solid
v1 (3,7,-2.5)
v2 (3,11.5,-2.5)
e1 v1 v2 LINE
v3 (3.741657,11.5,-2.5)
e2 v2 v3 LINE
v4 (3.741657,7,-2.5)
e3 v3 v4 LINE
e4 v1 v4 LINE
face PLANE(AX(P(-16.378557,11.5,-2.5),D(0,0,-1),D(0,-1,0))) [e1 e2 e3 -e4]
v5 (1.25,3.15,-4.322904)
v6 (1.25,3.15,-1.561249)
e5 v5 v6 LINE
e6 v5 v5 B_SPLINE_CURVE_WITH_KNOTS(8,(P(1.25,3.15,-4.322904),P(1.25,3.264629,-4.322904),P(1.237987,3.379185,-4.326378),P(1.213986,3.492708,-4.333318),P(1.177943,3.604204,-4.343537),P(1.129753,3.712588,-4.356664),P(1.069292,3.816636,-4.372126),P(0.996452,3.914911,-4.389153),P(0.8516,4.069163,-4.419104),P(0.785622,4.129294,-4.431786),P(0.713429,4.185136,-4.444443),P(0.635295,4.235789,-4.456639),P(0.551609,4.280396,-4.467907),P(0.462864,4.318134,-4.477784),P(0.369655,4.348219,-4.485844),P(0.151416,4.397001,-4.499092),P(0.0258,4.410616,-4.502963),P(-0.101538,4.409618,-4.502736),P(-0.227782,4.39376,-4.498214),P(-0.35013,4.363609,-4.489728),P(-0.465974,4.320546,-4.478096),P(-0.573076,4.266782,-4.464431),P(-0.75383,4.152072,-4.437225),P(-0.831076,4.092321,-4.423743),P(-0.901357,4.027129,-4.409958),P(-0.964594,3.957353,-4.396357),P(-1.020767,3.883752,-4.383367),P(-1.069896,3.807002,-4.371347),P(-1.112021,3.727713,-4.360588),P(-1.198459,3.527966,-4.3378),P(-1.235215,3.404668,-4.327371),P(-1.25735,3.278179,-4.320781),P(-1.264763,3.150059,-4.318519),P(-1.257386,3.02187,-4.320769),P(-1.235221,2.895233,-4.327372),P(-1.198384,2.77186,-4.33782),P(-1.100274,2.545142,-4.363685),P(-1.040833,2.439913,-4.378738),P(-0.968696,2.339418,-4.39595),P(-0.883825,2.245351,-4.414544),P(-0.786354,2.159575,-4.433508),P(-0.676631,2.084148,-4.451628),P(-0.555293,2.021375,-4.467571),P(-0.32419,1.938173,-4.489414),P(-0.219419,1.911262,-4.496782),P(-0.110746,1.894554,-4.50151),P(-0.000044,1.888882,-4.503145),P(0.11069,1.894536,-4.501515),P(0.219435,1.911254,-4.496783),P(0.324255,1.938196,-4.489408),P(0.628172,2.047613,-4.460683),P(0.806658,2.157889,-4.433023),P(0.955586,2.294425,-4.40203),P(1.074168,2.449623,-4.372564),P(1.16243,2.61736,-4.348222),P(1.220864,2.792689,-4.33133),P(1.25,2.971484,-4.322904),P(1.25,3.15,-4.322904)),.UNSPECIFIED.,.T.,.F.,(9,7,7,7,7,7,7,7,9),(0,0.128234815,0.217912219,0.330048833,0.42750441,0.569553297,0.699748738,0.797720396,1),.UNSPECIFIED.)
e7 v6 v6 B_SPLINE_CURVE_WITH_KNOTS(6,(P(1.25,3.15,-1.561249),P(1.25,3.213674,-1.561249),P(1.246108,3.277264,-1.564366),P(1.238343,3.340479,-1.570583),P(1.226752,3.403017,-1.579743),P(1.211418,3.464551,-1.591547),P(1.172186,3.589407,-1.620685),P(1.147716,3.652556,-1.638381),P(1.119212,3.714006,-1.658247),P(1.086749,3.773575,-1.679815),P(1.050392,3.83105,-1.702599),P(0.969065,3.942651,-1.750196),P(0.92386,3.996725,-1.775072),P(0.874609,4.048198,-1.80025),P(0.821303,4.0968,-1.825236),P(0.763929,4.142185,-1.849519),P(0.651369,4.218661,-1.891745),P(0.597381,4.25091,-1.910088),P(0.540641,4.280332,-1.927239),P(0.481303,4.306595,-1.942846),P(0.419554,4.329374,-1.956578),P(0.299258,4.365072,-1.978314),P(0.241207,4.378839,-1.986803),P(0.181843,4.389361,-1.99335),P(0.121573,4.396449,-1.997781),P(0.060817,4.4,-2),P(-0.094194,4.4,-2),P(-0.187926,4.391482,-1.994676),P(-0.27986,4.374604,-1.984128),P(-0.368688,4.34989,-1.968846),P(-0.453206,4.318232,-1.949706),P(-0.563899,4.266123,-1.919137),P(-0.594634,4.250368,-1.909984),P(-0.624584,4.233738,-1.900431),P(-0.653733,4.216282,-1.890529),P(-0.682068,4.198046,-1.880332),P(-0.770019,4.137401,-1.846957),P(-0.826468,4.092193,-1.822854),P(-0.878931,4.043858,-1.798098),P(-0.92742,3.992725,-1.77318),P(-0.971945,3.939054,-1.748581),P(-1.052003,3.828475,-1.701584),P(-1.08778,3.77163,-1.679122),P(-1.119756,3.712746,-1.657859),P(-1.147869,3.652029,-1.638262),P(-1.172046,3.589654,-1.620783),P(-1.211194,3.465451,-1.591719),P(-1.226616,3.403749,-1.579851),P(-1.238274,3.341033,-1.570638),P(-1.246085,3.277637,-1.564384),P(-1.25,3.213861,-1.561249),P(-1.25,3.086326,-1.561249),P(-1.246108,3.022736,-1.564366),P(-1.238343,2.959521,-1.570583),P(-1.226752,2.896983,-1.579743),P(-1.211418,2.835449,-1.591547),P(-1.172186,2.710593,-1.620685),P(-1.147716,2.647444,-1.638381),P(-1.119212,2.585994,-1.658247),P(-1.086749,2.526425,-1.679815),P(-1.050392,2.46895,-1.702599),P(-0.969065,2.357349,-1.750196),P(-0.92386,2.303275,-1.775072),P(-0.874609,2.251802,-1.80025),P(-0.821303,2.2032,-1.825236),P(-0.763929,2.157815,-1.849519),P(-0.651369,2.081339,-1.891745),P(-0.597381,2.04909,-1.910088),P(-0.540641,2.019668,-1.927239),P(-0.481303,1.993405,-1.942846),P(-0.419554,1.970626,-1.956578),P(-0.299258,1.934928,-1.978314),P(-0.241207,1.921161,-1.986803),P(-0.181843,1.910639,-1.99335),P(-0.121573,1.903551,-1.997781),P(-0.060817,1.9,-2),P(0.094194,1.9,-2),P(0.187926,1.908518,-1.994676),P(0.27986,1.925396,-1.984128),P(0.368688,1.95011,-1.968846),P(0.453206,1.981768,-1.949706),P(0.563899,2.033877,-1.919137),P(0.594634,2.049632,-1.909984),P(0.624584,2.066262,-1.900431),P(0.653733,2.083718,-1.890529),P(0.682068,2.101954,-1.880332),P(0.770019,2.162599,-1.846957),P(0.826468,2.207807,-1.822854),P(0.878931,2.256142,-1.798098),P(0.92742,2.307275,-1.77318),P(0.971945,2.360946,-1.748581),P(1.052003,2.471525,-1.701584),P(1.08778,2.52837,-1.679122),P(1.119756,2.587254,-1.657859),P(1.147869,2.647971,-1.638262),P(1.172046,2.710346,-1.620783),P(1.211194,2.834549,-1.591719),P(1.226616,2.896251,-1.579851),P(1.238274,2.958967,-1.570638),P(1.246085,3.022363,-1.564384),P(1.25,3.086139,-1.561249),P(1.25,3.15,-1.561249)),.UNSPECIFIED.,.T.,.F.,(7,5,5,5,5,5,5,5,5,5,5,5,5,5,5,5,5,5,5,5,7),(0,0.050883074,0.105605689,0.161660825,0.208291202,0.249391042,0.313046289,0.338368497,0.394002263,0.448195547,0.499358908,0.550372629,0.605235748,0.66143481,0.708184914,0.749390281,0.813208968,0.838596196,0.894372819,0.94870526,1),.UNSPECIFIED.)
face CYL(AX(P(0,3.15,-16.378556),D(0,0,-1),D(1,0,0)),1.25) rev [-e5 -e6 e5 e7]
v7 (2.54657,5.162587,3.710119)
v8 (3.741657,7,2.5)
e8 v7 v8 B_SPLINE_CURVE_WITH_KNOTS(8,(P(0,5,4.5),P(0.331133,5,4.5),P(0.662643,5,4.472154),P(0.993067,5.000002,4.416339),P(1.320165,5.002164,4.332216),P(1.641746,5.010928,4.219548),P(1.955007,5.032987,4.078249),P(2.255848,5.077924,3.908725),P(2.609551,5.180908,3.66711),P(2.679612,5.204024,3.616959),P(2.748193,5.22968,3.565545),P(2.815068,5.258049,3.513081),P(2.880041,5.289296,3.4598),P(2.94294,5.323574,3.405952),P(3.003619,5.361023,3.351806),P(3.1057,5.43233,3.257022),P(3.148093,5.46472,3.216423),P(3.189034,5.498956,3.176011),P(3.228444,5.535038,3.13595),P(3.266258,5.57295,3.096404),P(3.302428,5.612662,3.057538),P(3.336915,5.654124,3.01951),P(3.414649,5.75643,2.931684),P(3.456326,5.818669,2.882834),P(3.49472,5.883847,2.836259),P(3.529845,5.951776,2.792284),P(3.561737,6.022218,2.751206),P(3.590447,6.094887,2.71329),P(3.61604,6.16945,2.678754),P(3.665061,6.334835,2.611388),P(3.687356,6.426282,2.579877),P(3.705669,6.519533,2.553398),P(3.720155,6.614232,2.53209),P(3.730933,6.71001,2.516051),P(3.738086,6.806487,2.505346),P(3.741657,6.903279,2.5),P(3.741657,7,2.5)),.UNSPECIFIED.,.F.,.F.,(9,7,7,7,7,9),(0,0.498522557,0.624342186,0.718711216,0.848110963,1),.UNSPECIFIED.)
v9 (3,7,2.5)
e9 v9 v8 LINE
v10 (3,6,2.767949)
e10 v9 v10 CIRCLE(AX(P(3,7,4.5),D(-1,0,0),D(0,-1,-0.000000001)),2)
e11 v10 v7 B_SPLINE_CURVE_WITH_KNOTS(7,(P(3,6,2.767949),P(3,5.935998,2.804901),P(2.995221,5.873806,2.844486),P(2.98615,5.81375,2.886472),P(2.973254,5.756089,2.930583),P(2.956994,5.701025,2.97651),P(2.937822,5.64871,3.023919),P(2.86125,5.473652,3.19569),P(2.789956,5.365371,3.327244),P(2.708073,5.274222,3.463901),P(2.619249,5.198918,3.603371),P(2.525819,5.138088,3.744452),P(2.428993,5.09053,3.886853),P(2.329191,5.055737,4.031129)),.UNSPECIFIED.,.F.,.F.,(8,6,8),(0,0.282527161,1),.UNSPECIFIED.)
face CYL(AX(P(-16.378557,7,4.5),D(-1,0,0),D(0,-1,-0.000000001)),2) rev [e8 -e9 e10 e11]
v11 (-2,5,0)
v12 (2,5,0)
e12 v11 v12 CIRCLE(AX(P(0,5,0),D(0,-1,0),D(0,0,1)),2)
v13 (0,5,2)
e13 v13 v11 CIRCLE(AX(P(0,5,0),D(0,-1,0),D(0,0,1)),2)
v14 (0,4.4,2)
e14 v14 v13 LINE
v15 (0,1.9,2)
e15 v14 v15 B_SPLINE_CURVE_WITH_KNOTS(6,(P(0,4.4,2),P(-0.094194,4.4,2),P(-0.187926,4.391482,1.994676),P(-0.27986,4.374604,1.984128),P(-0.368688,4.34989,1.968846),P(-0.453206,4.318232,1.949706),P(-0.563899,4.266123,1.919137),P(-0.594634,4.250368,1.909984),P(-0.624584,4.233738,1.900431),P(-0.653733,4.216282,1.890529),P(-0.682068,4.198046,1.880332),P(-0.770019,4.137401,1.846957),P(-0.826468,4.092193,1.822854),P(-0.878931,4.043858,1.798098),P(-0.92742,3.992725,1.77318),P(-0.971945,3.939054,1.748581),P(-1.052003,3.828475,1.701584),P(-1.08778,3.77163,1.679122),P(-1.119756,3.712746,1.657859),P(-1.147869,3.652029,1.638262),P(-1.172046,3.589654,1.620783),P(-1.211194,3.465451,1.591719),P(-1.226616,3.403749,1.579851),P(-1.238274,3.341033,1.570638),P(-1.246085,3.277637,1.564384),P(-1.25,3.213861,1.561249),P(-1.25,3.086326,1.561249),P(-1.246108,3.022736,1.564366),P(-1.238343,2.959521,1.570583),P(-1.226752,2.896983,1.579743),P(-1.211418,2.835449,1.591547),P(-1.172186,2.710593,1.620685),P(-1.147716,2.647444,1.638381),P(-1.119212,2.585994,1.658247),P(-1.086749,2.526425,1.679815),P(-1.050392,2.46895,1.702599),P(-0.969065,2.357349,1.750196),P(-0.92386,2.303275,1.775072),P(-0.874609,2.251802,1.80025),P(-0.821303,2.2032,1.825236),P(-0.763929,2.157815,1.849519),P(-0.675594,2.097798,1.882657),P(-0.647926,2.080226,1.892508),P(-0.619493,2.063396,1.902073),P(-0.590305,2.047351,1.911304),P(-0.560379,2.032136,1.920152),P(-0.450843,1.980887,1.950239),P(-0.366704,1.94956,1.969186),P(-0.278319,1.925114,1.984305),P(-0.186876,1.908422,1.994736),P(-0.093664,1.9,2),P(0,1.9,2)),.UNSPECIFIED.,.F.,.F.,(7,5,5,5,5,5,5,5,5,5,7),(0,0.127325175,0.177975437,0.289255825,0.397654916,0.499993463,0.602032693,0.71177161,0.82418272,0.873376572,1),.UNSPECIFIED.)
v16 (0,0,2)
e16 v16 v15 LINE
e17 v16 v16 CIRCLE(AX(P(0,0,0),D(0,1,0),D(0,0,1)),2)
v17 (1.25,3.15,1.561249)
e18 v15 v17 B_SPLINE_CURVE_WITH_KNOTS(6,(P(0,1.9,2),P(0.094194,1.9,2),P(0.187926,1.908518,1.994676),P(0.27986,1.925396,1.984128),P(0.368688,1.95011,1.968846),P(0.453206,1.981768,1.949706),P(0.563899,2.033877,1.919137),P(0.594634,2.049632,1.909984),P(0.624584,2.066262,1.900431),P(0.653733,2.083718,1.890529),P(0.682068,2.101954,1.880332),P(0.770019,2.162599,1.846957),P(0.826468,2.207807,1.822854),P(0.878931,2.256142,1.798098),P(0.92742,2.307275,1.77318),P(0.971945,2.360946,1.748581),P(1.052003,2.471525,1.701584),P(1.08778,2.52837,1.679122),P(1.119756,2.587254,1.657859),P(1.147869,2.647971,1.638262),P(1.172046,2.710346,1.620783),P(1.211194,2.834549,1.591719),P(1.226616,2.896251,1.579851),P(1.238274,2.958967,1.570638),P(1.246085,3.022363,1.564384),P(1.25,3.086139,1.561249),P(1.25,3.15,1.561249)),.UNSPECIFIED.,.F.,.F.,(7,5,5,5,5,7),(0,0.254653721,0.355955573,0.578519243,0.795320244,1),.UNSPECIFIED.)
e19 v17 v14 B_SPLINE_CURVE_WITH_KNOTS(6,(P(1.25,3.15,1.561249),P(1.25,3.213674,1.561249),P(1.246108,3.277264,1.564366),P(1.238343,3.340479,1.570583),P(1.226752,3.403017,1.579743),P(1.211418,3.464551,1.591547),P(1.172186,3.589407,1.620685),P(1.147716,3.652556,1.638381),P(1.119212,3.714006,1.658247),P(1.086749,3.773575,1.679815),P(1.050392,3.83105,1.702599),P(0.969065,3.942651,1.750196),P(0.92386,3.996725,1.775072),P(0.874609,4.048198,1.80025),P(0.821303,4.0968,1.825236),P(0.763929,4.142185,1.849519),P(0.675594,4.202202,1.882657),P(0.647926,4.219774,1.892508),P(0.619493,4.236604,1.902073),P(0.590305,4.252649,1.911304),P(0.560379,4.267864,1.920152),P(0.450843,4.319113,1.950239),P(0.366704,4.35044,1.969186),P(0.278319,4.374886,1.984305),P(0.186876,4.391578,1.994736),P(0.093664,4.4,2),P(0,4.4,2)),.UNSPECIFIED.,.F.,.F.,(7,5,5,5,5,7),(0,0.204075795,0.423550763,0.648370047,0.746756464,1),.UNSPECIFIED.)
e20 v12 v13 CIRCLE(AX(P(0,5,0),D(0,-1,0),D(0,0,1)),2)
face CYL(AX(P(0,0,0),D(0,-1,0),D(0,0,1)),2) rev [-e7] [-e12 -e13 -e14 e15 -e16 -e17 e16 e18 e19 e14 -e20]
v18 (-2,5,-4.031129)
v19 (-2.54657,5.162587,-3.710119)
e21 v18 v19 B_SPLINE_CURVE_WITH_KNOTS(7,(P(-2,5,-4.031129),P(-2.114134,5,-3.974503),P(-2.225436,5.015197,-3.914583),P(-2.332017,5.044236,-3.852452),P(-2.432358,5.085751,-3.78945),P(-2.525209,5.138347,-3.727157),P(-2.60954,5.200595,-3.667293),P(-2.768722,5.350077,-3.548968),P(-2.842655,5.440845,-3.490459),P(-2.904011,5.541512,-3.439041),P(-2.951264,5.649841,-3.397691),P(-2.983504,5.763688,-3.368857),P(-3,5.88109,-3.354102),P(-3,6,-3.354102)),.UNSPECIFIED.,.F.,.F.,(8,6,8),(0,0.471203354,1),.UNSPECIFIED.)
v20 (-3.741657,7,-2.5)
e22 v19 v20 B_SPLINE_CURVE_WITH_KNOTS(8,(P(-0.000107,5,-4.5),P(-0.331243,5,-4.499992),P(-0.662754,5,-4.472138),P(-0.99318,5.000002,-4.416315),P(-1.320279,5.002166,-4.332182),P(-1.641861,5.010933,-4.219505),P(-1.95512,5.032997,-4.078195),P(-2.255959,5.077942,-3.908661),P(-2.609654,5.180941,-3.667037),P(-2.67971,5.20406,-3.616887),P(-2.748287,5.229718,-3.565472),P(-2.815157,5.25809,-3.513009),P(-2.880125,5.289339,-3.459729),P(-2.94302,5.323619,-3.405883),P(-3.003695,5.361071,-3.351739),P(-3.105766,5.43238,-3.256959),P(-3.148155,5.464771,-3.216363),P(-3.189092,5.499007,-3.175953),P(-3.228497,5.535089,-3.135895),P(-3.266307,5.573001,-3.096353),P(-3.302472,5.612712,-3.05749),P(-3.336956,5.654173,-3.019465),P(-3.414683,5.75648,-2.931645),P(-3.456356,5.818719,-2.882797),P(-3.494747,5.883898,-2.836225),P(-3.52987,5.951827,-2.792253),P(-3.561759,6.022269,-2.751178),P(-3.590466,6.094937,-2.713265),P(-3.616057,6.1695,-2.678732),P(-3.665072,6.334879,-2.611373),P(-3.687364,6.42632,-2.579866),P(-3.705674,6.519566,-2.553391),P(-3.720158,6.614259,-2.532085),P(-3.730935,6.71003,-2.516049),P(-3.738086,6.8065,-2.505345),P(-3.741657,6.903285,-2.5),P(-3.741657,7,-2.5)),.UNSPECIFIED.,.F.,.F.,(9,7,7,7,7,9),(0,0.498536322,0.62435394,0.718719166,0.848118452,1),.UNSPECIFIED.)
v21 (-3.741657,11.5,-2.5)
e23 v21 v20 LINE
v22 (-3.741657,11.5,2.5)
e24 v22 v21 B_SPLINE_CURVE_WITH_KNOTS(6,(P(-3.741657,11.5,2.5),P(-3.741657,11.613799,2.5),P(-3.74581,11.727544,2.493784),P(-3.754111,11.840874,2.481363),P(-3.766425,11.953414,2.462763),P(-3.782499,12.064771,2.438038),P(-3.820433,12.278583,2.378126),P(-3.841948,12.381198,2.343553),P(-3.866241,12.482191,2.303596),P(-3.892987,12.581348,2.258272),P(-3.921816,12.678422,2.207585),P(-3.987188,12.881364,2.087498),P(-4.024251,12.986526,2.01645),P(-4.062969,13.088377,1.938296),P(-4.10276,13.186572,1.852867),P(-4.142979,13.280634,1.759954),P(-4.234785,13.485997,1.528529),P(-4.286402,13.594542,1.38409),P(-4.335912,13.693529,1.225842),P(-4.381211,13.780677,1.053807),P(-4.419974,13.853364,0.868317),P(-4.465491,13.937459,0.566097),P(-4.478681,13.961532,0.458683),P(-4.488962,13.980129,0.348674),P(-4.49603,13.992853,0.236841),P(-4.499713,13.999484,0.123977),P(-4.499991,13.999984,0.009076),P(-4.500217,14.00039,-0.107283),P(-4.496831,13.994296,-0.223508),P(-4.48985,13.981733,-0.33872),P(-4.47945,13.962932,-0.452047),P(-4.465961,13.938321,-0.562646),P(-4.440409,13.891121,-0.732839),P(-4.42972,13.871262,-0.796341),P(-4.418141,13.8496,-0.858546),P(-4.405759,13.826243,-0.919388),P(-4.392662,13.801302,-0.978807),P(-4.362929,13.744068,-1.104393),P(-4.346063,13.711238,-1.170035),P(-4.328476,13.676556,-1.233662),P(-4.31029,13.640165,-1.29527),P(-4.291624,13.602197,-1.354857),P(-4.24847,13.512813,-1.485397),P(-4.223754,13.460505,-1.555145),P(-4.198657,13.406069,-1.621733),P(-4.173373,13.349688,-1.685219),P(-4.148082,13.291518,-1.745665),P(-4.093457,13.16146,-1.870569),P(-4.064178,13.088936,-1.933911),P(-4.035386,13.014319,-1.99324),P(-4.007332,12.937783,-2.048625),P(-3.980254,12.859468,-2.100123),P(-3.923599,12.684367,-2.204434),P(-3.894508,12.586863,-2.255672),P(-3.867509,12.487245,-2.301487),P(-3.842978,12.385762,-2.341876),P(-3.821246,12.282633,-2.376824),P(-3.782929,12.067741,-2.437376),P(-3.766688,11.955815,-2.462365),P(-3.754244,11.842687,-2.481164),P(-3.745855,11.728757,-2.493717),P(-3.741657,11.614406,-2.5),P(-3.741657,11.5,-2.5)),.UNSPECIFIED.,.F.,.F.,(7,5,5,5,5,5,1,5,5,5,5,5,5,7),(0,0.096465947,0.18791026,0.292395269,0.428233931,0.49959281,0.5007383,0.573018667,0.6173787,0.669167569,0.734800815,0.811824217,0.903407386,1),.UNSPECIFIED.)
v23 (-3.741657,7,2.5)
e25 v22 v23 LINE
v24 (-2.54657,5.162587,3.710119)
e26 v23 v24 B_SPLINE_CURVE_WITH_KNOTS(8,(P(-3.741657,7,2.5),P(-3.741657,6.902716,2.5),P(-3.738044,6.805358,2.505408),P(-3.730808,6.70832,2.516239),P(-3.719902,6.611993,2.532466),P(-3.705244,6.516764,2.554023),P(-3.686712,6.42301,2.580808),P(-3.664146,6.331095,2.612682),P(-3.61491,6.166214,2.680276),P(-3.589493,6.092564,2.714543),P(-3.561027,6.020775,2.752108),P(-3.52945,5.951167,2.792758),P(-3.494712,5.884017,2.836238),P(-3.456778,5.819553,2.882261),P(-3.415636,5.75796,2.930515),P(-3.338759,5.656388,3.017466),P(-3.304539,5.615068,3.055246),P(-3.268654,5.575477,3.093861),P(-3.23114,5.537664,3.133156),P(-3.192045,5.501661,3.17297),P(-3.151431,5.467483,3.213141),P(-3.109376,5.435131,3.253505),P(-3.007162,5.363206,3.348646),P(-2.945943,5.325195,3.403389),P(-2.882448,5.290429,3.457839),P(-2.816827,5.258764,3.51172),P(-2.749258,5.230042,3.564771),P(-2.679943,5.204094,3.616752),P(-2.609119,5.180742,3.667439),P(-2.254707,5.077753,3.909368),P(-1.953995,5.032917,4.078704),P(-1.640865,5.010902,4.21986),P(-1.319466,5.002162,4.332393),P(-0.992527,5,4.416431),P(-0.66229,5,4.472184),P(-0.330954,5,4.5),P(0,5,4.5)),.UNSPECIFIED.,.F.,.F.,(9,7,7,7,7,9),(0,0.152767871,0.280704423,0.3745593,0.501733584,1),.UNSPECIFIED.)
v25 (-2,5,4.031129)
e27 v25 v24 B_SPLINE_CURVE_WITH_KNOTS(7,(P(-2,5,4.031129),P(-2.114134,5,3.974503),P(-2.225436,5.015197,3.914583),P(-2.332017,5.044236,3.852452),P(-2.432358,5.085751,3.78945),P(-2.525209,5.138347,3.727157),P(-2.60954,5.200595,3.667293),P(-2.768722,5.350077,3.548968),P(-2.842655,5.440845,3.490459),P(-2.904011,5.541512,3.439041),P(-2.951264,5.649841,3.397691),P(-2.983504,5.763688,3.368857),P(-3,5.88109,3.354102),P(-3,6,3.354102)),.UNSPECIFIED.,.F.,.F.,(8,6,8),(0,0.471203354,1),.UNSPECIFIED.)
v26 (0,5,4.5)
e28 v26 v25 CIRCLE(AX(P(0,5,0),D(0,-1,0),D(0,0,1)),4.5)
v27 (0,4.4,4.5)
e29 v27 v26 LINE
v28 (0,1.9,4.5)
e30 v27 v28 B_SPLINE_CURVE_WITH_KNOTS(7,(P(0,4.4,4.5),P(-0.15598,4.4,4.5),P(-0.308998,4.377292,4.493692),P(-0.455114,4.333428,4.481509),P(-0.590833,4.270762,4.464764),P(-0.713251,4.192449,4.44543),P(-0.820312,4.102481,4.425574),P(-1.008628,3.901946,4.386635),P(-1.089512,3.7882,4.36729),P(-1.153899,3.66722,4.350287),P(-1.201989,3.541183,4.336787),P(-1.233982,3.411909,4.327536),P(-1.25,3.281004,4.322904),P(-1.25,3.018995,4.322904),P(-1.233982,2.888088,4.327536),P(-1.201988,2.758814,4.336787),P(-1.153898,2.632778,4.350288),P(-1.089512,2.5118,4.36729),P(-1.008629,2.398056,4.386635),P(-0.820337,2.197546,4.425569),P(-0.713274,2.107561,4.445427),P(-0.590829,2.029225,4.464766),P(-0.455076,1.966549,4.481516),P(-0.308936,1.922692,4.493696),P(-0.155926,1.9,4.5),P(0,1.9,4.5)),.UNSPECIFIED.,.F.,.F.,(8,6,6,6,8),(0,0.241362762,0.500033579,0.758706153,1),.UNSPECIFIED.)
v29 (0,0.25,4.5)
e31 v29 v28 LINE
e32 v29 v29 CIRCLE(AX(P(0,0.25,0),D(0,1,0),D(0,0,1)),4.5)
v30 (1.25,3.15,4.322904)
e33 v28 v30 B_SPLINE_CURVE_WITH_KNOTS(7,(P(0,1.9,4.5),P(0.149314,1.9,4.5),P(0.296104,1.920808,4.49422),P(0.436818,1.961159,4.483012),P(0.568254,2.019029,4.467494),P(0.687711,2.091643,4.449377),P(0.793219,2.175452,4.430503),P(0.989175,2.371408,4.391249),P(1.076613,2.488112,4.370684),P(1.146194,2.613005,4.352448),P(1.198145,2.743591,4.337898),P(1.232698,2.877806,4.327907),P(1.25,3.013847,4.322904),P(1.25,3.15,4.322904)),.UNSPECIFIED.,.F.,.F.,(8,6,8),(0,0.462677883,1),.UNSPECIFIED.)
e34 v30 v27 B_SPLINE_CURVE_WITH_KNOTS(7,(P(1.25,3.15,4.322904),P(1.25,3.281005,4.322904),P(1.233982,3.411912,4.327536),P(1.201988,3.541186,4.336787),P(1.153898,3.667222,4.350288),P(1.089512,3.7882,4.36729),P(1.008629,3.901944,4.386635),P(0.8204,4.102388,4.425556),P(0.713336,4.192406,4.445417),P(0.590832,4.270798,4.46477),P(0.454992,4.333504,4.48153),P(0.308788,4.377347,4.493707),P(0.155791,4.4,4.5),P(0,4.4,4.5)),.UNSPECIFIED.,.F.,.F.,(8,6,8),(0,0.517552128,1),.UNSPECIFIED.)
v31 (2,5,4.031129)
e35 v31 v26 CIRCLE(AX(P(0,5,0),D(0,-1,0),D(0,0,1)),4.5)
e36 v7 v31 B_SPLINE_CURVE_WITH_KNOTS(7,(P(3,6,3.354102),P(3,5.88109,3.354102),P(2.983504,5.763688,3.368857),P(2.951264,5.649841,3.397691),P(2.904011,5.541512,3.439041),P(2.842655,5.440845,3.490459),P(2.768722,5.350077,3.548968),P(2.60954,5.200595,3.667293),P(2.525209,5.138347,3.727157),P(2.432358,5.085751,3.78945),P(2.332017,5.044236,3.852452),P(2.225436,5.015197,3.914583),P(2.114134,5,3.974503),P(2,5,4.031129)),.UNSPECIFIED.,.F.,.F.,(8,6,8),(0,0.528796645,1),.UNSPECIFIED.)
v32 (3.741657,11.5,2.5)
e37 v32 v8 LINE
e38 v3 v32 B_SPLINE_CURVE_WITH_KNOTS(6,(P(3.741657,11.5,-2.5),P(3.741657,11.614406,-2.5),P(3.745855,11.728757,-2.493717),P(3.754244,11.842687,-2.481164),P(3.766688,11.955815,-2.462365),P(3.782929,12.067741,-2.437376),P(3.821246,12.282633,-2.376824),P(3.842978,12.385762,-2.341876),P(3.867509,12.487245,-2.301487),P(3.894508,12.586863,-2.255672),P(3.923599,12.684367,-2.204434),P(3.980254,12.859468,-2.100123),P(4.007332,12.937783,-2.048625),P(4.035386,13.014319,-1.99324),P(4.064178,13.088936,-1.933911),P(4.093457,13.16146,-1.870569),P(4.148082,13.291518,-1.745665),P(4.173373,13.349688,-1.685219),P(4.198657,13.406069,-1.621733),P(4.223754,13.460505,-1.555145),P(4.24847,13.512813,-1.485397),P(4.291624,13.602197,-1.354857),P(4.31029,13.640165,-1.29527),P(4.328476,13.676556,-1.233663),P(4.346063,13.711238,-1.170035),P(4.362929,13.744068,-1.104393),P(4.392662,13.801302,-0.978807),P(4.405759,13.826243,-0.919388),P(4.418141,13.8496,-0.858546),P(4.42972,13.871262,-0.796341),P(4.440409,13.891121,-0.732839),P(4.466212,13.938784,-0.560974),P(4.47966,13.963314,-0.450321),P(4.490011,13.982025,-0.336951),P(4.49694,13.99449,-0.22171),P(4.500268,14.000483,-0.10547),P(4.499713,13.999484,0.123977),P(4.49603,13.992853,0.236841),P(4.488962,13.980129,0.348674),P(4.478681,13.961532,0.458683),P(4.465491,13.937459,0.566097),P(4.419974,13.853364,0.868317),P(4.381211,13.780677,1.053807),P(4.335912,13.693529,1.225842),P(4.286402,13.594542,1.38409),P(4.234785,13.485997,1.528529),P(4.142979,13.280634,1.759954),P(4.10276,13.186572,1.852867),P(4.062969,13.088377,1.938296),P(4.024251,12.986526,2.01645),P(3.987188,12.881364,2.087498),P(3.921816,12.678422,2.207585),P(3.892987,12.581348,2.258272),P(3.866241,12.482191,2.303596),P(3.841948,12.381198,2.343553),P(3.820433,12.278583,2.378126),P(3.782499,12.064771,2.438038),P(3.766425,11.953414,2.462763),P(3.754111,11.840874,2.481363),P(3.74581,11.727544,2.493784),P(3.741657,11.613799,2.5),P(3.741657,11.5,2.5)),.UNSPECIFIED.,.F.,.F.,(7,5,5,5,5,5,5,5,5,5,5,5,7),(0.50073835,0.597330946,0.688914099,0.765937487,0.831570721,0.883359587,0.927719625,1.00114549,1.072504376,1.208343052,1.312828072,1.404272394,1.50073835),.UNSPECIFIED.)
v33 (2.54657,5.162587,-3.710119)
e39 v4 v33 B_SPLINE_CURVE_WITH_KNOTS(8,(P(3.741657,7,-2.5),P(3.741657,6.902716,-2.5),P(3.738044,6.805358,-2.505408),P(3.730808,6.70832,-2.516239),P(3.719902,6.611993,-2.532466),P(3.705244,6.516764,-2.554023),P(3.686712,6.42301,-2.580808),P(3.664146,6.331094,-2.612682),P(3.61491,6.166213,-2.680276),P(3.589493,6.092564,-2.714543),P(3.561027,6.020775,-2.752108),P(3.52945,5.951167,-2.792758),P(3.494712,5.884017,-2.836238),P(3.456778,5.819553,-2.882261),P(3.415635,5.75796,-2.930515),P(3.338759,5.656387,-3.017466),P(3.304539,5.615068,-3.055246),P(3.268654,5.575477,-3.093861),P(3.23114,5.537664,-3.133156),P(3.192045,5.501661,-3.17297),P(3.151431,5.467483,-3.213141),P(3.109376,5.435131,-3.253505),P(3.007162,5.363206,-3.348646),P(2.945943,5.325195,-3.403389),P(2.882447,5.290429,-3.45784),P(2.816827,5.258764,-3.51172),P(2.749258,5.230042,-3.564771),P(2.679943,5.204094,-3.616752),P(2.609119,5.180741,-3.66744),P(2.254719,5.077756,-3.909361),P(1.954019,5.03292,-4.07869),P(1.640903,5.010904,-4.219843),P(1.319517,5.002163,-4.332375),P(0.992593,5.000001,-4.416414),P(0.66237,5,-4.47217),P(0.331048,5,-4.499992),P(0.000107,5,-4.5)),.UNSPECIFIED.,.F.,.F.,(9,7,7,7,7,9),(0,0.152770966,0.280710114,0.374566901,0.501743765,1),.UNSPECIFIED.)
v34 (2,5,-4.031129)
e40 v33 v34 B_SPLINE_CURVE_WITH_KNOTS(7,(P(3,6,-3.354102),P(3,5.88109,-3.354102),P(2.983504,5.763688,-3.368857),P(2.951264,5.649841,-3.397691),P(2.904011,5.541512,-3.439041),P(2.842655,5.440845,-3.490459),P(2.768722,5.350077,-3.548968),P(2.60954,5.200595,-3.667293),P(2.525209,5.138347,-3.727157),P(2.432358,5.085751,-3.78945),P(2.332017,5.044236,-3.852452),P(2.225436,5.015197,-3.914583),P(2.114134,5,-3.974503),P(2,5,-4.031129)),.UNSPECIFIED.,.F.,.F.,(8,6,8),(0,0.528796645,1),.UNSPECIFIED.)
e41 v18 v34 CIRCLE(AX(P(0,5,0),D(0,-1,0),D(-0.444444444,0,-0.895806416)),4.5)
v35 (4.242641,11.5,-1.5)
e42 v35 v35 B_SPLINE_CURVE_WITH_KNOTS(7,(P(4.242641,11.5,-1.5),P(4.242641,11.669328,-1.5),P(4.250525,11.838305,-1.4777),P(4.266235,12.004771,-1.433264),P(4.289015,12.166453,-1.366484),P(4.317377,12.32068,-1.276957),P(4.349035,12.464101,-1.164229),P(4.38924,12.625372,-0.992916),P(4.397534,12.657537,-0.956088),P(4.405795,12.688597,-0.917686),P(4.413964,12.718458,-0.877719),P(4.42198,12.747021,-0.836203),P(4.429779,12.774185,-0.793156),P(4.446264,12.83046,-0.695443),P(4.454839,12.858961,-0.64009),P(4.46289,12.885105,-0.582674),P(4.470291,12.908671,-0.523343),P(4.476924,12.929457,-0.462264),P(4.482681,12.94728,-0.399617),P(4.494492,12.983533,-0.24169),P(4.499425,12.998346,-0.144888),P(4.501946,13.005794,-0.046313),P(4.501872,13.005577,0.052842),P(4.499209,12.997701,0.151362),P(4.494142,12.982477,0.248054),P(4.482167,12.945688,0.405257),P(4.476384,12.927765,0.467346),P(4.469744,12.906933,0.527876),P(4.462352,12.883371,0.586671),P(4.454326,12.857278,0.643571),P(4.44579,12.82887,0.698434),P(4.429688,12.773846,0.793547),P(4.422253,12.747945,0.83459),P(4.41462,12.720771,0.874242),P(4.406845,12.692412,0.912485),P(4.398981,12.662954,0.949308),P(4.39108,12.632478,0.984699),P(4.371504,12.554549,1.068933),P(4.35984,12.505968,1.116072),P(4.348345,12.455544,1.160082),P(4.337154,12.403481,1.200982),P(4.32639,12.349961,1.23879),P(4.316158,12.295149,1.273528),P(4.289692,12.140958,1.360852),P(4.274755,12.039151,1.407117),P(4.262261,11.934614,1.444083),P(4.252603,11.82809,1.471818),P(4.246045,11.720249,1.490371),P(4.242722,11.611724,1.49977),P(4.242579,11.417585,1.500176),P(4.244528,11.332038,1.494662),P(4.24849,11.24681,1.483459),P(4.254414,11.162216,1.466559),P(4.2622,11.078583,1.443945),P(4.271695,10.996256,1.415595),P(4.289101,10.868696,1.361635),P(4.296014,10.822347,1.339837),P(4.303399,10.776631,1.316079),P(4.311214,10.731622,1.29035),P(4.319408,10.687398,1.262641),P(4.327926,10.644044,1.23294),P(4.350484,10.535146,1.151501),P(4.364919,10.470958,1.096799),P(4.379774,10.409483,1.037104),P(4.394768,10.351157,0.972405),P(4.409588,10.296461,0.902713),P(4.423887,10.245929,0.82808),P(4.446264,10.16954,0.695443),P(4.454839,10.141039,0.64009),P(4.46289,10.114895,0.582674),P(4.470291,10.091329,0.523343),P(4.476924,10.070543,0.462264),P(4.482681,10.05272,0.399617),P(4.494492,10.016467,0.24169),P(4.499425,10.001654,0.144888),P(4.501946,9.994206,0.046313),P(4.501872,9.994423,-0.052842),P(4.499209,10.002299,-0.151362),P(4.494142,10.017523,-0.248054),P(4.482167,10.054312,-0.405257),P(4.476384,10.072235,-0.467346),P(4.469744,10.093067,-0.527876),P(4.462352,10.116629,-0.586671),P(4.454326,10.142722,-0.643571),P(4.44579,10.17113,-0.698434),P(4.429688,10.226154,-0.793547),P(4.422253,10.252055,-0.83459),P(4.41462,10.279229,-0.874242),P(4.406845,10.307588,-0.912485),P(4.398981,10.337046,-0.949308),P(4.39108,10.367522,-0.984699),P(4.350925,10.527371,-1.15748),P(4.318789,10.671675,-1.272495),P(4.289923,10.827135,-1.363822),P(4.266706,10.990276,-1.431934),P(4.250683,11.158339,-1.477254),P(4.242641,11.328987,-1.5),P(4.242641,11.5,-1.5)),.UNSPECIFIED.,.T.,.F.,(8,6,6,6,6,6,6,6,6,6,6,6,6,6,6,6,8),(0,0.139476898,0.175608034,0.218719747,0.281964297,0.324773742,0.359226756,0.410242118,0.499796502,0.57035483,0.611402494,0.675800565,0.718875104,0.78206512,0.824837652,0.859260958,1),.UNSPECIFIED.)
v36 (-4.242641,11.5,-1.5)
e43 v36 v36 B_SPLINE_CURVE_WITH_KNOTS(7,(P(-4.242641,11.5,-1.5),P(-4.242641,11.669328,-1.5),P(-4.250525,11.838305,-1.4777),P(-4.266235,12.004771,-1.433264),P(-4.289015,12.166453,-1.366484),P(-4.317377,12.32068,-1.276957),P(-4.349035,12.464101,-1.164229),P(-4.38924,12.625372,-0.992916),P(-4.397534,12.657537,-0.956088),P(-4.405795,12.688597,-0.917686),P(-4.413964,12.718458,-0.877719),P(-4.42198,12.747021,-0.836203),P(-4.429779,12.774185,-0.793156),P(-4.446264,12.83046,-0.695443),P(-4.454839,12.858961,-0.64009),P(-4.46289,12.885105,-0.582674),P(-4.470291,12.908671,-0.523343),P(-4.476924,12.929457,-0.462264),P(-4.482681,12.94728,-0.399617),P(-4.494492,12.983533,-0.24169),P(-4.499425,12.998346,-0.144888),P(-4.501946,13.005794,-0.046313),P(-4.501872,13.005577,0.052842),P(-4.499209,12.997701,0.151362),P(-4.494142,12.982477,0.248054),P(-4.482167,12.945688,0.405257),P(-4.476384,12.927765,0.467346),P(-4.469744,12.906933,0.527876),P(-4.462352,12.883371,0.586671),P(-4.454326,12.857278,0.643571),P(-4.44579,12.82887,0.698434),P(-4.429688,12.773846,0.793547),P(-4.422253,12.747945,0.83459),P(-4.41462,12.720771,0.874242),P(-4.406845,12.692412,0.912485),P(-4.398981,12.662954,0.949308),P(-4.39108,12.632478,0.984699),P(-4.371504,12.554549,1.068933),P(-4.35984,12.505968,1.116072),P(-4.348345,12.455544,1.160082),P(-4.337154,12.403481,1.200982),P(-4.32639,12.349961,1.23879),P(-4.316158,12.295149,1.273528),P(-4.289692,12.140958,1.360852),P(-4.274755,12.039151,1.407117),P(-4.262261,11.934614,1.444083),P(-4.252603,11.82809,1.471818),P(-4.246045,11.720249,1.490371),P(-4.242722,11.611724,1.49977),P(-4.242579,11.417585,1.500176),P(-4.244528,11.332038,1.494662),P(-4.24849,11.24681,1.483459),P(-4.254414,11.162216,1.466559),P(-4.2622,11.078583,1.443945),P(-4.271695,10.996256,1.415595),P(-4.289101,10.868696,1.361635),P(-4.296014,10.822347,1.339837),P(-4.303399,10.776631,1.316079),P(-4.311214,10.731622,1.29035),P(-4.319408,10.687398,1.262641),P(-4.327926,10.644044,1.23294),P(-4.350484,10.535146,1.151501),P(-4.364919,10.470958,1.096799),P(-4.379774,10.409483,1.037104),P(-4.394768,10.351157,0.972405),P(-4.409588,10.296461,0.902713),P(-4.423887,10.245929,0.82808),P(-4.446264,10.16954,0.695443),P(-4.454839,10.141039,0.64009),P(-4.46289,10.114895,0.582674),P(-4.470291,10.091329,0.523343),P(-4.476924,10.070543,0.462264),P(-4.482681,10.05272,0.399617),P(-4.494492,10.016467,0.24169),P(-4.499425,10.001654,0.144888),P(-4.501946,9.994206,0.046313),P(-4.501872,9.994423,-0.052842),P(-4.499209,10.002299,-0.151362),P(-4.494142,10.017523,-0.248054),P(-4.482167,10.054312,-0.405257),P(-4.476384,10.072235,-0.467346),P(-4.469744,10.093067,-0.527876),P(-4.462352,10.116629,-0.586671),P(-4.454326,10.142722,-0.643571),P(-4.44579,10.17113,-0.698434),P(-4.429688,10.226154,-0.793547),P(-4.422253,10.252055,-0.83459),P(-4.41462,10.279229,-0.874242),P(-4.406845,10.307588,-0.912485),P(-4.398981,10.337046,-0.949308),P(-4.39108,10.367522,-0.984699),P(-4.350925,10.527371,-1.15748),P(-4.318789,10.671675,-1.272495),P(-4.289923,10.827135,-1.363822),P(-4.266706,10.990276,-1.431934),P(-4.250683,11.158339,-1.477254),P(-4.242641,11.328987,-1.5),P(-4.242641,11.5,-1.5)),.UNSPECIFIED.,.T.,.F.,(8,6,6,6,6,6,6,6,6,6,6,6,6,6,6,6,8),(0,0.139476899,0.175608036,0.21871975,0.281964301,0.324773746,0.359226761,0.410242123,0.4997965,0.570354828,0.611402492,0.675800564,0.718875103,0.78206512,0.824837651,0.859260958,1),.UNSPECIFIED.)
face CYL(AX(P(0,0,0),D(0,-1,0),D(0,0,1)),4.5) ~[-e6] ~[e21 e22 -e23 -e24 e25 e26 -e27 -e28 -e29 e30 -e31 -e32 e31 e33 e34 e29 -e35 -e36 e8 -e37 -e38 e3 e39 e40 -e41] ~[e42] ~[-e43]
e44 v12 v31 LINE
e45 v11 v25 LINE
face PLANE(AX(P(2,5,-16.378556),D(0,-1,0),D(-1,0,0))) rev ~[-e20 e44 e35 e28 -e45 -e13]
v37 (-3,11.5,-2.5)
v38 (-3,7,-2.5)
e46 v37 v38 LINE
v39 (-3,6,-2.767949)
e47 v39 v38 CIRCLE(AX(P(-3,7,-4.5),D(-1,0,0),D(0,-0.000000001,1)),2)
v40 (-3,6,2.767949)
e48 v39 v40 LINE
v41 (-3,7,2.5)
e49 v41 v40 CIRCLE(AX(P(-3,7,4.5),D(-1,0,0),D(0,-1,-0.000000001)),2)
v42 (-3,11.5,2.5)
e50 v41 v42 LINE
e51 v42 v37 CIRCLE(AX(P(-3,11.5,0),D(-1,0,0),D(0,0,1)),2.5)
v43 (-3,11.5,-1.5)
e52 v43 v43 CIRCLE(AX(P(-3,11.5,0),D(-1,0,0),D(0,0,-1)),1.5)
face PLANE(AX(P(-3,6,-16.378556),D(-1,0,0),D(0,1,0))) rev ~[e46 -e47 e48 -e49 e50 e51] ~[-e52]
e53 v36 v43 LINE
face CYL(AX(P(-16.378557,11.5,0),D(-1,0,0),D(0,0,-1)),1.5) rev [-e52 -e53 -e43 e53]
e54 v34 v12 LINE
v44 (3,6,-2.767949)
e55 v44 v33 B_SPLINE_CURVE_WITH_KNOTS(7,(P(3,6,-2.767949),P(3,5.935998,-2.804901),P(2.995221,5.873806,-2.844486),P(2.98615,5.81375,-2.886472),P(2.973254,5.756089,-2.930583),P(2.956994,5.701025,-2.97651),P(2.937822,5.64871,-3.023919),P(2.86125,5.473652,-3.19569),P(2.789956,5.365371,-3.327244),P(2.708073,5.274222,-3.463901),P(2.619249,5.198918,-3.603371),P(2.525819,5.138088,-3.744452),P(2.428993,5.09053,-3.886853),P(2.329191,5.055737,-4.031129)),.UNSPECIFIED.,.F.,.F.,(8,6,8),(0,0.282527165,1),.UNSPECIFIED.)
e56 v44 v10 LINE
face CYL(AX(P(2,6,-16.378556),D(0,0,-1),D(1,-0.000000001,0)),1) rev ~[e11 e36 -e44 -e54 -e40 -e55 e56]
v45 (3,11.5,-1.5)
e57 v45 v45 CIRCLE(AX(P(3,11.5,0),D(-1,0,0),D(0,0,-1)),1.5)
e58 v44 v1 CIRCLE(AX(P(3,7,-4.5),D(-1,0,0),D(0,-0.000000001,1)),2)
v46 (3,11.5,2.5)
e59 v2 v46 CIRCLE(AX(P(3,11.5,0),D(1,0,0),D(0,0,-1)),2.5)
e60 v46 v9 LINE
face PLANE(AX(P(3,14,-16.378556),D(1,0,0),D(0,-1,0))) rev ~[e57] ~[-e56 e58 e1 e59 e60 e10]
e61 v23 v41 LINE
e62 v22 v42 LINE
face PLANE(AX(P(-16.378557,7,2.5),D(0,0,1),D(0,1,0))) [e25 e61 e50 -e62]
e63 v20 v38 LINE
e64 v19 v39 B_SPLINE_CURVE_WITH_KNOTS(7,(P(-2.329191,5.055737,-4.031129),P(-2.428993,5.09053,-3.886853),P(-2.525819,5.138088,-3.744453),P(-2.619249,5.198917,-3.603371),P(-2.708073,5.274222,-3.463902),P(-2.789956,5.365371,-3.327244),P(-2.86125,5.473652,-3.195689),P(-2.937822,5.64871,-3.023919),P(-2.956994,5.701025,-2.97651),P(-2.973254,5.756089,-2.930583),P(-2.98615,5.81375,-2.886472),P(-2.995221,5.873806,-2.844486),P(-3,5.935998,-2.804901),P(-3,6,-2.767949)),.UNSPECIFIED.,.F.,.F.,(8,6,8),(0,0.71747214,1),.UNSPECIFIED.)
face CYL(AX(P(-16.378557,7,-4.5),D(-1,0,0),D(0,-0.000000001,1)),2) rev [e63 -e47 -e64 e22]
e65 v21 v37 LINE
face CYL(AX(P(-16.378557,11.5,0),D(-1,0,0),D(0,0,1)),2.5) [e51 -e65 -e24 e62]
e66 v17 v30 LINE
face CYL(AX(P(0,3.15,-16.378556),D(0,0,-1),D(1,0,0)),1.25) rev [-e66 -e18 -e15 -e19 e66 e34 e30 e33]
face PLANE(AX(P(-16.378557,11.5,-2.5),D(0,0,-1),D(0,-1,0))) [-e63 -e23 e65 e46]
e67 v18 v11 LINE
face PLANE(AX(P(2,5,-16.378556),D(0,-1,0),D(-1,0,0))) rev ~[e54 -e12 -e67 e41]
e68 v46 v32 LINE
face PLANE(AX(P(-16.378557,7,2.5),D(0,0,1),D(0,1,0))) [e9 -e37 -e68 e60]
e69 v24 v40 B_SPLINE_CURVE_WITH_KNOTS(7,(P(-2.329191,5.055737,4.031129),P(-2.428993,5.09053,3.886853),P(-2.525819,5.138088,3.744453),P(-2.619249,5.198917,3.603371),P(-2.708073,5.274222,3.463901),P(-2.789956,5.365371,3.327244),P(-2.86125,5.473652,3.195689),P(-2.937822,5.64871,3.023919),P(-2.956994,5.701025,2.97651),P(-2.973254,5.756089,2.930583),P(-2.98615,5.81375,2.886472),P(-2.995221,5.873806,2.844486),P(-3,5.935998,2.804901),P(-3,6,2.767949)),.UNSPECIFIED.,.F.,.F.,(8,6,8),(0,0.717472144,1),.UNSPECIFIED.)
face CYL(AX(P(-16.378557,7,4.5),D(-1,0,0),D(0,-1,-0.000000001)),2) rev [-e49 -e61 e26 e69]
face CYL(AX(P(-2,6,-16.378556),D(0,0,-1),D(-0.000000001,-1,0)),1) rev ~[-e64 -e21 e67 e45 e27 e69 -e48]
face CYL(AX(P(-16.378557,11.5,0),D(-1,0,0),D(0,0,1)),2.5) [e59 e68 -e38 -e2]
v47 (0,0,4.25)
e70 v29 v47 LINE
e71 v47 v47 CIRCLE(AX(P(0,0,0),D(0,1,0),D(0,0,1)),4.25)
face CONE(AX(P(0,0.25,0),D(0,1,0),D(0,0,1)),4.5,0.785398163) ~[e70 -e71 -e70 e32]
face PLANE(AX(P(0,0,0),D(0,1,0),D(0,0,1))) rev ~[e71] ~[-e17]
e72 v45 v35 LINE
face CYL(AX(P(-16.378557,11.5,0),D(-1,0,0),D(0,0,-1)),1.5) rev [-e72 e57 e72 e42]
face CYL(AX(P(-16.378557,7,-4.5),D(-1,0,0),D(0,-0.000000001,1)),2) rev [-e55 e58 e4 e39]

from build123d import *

# Parameters (mm, degrees)
SKETCH1_R               = 4.5
SKETCH1_R_2             = 2
BOSS_EXTRUDE1_DEPTH     = 14
CUT_EXTRUDE1_DEPTH      = 16.378556499
CUT_EXTRUDE1_DEPTH_BACK = 16.378556499
SKETCH2_R               = 1.25
CUT_EXTRUDE2_DEPTH      = 16.378556652
CUT_EXTRUDE2_DEPTH_BACK = 16.378556652
SKETCH3_R               = 1.5
CHAMFER1_SIZE           = 0.25


with BuildPart() as part:
    # Sketch1 → Boss-Extrude1 (new body)
    with BuildSketch(Plane(origin=(0, 0, 0), x_dir=(1, 0, 0), z_dir=(0, 1, 0))):
        with Locations(Location((0, 0, 0), (0, 0, 270))):
            Circle(SKETCH1_R)
        with Locations(Location((0, 0, 0), (0, 0, 270))):
            Circle(SKETCH1_R_2, mode=Mode.SUBTRACT)
    extrude(amount=BOSS_EXTRUDE1_DEPTH)

    # Sketch2 → Cut-Extrude1 (cut, two sides: drawn at the far end of the back side and taken through both)
    with BuildSketch(Plane.XY.offset(-CUT_EXTRUDE1_DEPTH_BACK)):
        with Locations((0, 3.15)):
            Circle(SKETCH2_R)
        with BuildLine():
            Line((-3, 14), (3, 14))
            Line((3, 14), (3, 6))
            ThreePointArc((3, 6), (2.707106781, 5.292893219), (2, 5))
            Line((2, 5), (-2, 5))
            ThreePointArc((-2, 5), (-2.707106781, 5.292893219), (-3, 6))
            Line((-3, 6), (-3, 14))
        make_face()
    extrude(amount=CUT_EXTRUDE1_DEPTH + CUT_EXTRUDE1_DEPTH_BACK, mode=Mode.SUBTRACT)

    # Sketch3 → Cut-Extrude2 (cut, two sides: drawn at the far end of the back side and taken through both)
    with BuildSketch(Plane(origin=(0, 0, 0), x_dir=(0, 0, -1), z_dir=(1, 0, 0)).offset(-CUT_EXTRUDE2_DEPTH_BACK)):
        with Locations((0, 11.5)):
            Circle(SKETCH3_R)
        with BuildLine():
            Line((2.5, 11.5), (2.5, 7))
            ThreePointArc((2.5, 7), (3.085786438, 5.585786438), (4.5, 5))
            Line((4.5, 5), (4.5, 15))
            Line((4.5, 15), (-4.5, 15))
            Line((-4.5, 15), (-4.5, 5))
            ThreePointArc((-4.5, 5), (-3.085786438, 5.585786438), (-2.5, 7))
            Line((-2.5, 7), (-2.5, 11.5))
            ThreePointArc((-2.5, 11.5), (0, 14), (2.5, 11.5))
        make_face()
    extrude(amount=CUT_EXTRUDE2_DEPTH + CUT_EXTRUDE2_DEPTH_BACK, mode=Mode.SUBTRACT)

    # Chamfer1
    chamfer1_edges = [part.edges().sort_by_distance(p)[0] for p in [
        (0, 0, -4.5),
    ]]
    chamfer(chamfer1_edges, length=CHAMFER1_SIZE)


solid = part.part
